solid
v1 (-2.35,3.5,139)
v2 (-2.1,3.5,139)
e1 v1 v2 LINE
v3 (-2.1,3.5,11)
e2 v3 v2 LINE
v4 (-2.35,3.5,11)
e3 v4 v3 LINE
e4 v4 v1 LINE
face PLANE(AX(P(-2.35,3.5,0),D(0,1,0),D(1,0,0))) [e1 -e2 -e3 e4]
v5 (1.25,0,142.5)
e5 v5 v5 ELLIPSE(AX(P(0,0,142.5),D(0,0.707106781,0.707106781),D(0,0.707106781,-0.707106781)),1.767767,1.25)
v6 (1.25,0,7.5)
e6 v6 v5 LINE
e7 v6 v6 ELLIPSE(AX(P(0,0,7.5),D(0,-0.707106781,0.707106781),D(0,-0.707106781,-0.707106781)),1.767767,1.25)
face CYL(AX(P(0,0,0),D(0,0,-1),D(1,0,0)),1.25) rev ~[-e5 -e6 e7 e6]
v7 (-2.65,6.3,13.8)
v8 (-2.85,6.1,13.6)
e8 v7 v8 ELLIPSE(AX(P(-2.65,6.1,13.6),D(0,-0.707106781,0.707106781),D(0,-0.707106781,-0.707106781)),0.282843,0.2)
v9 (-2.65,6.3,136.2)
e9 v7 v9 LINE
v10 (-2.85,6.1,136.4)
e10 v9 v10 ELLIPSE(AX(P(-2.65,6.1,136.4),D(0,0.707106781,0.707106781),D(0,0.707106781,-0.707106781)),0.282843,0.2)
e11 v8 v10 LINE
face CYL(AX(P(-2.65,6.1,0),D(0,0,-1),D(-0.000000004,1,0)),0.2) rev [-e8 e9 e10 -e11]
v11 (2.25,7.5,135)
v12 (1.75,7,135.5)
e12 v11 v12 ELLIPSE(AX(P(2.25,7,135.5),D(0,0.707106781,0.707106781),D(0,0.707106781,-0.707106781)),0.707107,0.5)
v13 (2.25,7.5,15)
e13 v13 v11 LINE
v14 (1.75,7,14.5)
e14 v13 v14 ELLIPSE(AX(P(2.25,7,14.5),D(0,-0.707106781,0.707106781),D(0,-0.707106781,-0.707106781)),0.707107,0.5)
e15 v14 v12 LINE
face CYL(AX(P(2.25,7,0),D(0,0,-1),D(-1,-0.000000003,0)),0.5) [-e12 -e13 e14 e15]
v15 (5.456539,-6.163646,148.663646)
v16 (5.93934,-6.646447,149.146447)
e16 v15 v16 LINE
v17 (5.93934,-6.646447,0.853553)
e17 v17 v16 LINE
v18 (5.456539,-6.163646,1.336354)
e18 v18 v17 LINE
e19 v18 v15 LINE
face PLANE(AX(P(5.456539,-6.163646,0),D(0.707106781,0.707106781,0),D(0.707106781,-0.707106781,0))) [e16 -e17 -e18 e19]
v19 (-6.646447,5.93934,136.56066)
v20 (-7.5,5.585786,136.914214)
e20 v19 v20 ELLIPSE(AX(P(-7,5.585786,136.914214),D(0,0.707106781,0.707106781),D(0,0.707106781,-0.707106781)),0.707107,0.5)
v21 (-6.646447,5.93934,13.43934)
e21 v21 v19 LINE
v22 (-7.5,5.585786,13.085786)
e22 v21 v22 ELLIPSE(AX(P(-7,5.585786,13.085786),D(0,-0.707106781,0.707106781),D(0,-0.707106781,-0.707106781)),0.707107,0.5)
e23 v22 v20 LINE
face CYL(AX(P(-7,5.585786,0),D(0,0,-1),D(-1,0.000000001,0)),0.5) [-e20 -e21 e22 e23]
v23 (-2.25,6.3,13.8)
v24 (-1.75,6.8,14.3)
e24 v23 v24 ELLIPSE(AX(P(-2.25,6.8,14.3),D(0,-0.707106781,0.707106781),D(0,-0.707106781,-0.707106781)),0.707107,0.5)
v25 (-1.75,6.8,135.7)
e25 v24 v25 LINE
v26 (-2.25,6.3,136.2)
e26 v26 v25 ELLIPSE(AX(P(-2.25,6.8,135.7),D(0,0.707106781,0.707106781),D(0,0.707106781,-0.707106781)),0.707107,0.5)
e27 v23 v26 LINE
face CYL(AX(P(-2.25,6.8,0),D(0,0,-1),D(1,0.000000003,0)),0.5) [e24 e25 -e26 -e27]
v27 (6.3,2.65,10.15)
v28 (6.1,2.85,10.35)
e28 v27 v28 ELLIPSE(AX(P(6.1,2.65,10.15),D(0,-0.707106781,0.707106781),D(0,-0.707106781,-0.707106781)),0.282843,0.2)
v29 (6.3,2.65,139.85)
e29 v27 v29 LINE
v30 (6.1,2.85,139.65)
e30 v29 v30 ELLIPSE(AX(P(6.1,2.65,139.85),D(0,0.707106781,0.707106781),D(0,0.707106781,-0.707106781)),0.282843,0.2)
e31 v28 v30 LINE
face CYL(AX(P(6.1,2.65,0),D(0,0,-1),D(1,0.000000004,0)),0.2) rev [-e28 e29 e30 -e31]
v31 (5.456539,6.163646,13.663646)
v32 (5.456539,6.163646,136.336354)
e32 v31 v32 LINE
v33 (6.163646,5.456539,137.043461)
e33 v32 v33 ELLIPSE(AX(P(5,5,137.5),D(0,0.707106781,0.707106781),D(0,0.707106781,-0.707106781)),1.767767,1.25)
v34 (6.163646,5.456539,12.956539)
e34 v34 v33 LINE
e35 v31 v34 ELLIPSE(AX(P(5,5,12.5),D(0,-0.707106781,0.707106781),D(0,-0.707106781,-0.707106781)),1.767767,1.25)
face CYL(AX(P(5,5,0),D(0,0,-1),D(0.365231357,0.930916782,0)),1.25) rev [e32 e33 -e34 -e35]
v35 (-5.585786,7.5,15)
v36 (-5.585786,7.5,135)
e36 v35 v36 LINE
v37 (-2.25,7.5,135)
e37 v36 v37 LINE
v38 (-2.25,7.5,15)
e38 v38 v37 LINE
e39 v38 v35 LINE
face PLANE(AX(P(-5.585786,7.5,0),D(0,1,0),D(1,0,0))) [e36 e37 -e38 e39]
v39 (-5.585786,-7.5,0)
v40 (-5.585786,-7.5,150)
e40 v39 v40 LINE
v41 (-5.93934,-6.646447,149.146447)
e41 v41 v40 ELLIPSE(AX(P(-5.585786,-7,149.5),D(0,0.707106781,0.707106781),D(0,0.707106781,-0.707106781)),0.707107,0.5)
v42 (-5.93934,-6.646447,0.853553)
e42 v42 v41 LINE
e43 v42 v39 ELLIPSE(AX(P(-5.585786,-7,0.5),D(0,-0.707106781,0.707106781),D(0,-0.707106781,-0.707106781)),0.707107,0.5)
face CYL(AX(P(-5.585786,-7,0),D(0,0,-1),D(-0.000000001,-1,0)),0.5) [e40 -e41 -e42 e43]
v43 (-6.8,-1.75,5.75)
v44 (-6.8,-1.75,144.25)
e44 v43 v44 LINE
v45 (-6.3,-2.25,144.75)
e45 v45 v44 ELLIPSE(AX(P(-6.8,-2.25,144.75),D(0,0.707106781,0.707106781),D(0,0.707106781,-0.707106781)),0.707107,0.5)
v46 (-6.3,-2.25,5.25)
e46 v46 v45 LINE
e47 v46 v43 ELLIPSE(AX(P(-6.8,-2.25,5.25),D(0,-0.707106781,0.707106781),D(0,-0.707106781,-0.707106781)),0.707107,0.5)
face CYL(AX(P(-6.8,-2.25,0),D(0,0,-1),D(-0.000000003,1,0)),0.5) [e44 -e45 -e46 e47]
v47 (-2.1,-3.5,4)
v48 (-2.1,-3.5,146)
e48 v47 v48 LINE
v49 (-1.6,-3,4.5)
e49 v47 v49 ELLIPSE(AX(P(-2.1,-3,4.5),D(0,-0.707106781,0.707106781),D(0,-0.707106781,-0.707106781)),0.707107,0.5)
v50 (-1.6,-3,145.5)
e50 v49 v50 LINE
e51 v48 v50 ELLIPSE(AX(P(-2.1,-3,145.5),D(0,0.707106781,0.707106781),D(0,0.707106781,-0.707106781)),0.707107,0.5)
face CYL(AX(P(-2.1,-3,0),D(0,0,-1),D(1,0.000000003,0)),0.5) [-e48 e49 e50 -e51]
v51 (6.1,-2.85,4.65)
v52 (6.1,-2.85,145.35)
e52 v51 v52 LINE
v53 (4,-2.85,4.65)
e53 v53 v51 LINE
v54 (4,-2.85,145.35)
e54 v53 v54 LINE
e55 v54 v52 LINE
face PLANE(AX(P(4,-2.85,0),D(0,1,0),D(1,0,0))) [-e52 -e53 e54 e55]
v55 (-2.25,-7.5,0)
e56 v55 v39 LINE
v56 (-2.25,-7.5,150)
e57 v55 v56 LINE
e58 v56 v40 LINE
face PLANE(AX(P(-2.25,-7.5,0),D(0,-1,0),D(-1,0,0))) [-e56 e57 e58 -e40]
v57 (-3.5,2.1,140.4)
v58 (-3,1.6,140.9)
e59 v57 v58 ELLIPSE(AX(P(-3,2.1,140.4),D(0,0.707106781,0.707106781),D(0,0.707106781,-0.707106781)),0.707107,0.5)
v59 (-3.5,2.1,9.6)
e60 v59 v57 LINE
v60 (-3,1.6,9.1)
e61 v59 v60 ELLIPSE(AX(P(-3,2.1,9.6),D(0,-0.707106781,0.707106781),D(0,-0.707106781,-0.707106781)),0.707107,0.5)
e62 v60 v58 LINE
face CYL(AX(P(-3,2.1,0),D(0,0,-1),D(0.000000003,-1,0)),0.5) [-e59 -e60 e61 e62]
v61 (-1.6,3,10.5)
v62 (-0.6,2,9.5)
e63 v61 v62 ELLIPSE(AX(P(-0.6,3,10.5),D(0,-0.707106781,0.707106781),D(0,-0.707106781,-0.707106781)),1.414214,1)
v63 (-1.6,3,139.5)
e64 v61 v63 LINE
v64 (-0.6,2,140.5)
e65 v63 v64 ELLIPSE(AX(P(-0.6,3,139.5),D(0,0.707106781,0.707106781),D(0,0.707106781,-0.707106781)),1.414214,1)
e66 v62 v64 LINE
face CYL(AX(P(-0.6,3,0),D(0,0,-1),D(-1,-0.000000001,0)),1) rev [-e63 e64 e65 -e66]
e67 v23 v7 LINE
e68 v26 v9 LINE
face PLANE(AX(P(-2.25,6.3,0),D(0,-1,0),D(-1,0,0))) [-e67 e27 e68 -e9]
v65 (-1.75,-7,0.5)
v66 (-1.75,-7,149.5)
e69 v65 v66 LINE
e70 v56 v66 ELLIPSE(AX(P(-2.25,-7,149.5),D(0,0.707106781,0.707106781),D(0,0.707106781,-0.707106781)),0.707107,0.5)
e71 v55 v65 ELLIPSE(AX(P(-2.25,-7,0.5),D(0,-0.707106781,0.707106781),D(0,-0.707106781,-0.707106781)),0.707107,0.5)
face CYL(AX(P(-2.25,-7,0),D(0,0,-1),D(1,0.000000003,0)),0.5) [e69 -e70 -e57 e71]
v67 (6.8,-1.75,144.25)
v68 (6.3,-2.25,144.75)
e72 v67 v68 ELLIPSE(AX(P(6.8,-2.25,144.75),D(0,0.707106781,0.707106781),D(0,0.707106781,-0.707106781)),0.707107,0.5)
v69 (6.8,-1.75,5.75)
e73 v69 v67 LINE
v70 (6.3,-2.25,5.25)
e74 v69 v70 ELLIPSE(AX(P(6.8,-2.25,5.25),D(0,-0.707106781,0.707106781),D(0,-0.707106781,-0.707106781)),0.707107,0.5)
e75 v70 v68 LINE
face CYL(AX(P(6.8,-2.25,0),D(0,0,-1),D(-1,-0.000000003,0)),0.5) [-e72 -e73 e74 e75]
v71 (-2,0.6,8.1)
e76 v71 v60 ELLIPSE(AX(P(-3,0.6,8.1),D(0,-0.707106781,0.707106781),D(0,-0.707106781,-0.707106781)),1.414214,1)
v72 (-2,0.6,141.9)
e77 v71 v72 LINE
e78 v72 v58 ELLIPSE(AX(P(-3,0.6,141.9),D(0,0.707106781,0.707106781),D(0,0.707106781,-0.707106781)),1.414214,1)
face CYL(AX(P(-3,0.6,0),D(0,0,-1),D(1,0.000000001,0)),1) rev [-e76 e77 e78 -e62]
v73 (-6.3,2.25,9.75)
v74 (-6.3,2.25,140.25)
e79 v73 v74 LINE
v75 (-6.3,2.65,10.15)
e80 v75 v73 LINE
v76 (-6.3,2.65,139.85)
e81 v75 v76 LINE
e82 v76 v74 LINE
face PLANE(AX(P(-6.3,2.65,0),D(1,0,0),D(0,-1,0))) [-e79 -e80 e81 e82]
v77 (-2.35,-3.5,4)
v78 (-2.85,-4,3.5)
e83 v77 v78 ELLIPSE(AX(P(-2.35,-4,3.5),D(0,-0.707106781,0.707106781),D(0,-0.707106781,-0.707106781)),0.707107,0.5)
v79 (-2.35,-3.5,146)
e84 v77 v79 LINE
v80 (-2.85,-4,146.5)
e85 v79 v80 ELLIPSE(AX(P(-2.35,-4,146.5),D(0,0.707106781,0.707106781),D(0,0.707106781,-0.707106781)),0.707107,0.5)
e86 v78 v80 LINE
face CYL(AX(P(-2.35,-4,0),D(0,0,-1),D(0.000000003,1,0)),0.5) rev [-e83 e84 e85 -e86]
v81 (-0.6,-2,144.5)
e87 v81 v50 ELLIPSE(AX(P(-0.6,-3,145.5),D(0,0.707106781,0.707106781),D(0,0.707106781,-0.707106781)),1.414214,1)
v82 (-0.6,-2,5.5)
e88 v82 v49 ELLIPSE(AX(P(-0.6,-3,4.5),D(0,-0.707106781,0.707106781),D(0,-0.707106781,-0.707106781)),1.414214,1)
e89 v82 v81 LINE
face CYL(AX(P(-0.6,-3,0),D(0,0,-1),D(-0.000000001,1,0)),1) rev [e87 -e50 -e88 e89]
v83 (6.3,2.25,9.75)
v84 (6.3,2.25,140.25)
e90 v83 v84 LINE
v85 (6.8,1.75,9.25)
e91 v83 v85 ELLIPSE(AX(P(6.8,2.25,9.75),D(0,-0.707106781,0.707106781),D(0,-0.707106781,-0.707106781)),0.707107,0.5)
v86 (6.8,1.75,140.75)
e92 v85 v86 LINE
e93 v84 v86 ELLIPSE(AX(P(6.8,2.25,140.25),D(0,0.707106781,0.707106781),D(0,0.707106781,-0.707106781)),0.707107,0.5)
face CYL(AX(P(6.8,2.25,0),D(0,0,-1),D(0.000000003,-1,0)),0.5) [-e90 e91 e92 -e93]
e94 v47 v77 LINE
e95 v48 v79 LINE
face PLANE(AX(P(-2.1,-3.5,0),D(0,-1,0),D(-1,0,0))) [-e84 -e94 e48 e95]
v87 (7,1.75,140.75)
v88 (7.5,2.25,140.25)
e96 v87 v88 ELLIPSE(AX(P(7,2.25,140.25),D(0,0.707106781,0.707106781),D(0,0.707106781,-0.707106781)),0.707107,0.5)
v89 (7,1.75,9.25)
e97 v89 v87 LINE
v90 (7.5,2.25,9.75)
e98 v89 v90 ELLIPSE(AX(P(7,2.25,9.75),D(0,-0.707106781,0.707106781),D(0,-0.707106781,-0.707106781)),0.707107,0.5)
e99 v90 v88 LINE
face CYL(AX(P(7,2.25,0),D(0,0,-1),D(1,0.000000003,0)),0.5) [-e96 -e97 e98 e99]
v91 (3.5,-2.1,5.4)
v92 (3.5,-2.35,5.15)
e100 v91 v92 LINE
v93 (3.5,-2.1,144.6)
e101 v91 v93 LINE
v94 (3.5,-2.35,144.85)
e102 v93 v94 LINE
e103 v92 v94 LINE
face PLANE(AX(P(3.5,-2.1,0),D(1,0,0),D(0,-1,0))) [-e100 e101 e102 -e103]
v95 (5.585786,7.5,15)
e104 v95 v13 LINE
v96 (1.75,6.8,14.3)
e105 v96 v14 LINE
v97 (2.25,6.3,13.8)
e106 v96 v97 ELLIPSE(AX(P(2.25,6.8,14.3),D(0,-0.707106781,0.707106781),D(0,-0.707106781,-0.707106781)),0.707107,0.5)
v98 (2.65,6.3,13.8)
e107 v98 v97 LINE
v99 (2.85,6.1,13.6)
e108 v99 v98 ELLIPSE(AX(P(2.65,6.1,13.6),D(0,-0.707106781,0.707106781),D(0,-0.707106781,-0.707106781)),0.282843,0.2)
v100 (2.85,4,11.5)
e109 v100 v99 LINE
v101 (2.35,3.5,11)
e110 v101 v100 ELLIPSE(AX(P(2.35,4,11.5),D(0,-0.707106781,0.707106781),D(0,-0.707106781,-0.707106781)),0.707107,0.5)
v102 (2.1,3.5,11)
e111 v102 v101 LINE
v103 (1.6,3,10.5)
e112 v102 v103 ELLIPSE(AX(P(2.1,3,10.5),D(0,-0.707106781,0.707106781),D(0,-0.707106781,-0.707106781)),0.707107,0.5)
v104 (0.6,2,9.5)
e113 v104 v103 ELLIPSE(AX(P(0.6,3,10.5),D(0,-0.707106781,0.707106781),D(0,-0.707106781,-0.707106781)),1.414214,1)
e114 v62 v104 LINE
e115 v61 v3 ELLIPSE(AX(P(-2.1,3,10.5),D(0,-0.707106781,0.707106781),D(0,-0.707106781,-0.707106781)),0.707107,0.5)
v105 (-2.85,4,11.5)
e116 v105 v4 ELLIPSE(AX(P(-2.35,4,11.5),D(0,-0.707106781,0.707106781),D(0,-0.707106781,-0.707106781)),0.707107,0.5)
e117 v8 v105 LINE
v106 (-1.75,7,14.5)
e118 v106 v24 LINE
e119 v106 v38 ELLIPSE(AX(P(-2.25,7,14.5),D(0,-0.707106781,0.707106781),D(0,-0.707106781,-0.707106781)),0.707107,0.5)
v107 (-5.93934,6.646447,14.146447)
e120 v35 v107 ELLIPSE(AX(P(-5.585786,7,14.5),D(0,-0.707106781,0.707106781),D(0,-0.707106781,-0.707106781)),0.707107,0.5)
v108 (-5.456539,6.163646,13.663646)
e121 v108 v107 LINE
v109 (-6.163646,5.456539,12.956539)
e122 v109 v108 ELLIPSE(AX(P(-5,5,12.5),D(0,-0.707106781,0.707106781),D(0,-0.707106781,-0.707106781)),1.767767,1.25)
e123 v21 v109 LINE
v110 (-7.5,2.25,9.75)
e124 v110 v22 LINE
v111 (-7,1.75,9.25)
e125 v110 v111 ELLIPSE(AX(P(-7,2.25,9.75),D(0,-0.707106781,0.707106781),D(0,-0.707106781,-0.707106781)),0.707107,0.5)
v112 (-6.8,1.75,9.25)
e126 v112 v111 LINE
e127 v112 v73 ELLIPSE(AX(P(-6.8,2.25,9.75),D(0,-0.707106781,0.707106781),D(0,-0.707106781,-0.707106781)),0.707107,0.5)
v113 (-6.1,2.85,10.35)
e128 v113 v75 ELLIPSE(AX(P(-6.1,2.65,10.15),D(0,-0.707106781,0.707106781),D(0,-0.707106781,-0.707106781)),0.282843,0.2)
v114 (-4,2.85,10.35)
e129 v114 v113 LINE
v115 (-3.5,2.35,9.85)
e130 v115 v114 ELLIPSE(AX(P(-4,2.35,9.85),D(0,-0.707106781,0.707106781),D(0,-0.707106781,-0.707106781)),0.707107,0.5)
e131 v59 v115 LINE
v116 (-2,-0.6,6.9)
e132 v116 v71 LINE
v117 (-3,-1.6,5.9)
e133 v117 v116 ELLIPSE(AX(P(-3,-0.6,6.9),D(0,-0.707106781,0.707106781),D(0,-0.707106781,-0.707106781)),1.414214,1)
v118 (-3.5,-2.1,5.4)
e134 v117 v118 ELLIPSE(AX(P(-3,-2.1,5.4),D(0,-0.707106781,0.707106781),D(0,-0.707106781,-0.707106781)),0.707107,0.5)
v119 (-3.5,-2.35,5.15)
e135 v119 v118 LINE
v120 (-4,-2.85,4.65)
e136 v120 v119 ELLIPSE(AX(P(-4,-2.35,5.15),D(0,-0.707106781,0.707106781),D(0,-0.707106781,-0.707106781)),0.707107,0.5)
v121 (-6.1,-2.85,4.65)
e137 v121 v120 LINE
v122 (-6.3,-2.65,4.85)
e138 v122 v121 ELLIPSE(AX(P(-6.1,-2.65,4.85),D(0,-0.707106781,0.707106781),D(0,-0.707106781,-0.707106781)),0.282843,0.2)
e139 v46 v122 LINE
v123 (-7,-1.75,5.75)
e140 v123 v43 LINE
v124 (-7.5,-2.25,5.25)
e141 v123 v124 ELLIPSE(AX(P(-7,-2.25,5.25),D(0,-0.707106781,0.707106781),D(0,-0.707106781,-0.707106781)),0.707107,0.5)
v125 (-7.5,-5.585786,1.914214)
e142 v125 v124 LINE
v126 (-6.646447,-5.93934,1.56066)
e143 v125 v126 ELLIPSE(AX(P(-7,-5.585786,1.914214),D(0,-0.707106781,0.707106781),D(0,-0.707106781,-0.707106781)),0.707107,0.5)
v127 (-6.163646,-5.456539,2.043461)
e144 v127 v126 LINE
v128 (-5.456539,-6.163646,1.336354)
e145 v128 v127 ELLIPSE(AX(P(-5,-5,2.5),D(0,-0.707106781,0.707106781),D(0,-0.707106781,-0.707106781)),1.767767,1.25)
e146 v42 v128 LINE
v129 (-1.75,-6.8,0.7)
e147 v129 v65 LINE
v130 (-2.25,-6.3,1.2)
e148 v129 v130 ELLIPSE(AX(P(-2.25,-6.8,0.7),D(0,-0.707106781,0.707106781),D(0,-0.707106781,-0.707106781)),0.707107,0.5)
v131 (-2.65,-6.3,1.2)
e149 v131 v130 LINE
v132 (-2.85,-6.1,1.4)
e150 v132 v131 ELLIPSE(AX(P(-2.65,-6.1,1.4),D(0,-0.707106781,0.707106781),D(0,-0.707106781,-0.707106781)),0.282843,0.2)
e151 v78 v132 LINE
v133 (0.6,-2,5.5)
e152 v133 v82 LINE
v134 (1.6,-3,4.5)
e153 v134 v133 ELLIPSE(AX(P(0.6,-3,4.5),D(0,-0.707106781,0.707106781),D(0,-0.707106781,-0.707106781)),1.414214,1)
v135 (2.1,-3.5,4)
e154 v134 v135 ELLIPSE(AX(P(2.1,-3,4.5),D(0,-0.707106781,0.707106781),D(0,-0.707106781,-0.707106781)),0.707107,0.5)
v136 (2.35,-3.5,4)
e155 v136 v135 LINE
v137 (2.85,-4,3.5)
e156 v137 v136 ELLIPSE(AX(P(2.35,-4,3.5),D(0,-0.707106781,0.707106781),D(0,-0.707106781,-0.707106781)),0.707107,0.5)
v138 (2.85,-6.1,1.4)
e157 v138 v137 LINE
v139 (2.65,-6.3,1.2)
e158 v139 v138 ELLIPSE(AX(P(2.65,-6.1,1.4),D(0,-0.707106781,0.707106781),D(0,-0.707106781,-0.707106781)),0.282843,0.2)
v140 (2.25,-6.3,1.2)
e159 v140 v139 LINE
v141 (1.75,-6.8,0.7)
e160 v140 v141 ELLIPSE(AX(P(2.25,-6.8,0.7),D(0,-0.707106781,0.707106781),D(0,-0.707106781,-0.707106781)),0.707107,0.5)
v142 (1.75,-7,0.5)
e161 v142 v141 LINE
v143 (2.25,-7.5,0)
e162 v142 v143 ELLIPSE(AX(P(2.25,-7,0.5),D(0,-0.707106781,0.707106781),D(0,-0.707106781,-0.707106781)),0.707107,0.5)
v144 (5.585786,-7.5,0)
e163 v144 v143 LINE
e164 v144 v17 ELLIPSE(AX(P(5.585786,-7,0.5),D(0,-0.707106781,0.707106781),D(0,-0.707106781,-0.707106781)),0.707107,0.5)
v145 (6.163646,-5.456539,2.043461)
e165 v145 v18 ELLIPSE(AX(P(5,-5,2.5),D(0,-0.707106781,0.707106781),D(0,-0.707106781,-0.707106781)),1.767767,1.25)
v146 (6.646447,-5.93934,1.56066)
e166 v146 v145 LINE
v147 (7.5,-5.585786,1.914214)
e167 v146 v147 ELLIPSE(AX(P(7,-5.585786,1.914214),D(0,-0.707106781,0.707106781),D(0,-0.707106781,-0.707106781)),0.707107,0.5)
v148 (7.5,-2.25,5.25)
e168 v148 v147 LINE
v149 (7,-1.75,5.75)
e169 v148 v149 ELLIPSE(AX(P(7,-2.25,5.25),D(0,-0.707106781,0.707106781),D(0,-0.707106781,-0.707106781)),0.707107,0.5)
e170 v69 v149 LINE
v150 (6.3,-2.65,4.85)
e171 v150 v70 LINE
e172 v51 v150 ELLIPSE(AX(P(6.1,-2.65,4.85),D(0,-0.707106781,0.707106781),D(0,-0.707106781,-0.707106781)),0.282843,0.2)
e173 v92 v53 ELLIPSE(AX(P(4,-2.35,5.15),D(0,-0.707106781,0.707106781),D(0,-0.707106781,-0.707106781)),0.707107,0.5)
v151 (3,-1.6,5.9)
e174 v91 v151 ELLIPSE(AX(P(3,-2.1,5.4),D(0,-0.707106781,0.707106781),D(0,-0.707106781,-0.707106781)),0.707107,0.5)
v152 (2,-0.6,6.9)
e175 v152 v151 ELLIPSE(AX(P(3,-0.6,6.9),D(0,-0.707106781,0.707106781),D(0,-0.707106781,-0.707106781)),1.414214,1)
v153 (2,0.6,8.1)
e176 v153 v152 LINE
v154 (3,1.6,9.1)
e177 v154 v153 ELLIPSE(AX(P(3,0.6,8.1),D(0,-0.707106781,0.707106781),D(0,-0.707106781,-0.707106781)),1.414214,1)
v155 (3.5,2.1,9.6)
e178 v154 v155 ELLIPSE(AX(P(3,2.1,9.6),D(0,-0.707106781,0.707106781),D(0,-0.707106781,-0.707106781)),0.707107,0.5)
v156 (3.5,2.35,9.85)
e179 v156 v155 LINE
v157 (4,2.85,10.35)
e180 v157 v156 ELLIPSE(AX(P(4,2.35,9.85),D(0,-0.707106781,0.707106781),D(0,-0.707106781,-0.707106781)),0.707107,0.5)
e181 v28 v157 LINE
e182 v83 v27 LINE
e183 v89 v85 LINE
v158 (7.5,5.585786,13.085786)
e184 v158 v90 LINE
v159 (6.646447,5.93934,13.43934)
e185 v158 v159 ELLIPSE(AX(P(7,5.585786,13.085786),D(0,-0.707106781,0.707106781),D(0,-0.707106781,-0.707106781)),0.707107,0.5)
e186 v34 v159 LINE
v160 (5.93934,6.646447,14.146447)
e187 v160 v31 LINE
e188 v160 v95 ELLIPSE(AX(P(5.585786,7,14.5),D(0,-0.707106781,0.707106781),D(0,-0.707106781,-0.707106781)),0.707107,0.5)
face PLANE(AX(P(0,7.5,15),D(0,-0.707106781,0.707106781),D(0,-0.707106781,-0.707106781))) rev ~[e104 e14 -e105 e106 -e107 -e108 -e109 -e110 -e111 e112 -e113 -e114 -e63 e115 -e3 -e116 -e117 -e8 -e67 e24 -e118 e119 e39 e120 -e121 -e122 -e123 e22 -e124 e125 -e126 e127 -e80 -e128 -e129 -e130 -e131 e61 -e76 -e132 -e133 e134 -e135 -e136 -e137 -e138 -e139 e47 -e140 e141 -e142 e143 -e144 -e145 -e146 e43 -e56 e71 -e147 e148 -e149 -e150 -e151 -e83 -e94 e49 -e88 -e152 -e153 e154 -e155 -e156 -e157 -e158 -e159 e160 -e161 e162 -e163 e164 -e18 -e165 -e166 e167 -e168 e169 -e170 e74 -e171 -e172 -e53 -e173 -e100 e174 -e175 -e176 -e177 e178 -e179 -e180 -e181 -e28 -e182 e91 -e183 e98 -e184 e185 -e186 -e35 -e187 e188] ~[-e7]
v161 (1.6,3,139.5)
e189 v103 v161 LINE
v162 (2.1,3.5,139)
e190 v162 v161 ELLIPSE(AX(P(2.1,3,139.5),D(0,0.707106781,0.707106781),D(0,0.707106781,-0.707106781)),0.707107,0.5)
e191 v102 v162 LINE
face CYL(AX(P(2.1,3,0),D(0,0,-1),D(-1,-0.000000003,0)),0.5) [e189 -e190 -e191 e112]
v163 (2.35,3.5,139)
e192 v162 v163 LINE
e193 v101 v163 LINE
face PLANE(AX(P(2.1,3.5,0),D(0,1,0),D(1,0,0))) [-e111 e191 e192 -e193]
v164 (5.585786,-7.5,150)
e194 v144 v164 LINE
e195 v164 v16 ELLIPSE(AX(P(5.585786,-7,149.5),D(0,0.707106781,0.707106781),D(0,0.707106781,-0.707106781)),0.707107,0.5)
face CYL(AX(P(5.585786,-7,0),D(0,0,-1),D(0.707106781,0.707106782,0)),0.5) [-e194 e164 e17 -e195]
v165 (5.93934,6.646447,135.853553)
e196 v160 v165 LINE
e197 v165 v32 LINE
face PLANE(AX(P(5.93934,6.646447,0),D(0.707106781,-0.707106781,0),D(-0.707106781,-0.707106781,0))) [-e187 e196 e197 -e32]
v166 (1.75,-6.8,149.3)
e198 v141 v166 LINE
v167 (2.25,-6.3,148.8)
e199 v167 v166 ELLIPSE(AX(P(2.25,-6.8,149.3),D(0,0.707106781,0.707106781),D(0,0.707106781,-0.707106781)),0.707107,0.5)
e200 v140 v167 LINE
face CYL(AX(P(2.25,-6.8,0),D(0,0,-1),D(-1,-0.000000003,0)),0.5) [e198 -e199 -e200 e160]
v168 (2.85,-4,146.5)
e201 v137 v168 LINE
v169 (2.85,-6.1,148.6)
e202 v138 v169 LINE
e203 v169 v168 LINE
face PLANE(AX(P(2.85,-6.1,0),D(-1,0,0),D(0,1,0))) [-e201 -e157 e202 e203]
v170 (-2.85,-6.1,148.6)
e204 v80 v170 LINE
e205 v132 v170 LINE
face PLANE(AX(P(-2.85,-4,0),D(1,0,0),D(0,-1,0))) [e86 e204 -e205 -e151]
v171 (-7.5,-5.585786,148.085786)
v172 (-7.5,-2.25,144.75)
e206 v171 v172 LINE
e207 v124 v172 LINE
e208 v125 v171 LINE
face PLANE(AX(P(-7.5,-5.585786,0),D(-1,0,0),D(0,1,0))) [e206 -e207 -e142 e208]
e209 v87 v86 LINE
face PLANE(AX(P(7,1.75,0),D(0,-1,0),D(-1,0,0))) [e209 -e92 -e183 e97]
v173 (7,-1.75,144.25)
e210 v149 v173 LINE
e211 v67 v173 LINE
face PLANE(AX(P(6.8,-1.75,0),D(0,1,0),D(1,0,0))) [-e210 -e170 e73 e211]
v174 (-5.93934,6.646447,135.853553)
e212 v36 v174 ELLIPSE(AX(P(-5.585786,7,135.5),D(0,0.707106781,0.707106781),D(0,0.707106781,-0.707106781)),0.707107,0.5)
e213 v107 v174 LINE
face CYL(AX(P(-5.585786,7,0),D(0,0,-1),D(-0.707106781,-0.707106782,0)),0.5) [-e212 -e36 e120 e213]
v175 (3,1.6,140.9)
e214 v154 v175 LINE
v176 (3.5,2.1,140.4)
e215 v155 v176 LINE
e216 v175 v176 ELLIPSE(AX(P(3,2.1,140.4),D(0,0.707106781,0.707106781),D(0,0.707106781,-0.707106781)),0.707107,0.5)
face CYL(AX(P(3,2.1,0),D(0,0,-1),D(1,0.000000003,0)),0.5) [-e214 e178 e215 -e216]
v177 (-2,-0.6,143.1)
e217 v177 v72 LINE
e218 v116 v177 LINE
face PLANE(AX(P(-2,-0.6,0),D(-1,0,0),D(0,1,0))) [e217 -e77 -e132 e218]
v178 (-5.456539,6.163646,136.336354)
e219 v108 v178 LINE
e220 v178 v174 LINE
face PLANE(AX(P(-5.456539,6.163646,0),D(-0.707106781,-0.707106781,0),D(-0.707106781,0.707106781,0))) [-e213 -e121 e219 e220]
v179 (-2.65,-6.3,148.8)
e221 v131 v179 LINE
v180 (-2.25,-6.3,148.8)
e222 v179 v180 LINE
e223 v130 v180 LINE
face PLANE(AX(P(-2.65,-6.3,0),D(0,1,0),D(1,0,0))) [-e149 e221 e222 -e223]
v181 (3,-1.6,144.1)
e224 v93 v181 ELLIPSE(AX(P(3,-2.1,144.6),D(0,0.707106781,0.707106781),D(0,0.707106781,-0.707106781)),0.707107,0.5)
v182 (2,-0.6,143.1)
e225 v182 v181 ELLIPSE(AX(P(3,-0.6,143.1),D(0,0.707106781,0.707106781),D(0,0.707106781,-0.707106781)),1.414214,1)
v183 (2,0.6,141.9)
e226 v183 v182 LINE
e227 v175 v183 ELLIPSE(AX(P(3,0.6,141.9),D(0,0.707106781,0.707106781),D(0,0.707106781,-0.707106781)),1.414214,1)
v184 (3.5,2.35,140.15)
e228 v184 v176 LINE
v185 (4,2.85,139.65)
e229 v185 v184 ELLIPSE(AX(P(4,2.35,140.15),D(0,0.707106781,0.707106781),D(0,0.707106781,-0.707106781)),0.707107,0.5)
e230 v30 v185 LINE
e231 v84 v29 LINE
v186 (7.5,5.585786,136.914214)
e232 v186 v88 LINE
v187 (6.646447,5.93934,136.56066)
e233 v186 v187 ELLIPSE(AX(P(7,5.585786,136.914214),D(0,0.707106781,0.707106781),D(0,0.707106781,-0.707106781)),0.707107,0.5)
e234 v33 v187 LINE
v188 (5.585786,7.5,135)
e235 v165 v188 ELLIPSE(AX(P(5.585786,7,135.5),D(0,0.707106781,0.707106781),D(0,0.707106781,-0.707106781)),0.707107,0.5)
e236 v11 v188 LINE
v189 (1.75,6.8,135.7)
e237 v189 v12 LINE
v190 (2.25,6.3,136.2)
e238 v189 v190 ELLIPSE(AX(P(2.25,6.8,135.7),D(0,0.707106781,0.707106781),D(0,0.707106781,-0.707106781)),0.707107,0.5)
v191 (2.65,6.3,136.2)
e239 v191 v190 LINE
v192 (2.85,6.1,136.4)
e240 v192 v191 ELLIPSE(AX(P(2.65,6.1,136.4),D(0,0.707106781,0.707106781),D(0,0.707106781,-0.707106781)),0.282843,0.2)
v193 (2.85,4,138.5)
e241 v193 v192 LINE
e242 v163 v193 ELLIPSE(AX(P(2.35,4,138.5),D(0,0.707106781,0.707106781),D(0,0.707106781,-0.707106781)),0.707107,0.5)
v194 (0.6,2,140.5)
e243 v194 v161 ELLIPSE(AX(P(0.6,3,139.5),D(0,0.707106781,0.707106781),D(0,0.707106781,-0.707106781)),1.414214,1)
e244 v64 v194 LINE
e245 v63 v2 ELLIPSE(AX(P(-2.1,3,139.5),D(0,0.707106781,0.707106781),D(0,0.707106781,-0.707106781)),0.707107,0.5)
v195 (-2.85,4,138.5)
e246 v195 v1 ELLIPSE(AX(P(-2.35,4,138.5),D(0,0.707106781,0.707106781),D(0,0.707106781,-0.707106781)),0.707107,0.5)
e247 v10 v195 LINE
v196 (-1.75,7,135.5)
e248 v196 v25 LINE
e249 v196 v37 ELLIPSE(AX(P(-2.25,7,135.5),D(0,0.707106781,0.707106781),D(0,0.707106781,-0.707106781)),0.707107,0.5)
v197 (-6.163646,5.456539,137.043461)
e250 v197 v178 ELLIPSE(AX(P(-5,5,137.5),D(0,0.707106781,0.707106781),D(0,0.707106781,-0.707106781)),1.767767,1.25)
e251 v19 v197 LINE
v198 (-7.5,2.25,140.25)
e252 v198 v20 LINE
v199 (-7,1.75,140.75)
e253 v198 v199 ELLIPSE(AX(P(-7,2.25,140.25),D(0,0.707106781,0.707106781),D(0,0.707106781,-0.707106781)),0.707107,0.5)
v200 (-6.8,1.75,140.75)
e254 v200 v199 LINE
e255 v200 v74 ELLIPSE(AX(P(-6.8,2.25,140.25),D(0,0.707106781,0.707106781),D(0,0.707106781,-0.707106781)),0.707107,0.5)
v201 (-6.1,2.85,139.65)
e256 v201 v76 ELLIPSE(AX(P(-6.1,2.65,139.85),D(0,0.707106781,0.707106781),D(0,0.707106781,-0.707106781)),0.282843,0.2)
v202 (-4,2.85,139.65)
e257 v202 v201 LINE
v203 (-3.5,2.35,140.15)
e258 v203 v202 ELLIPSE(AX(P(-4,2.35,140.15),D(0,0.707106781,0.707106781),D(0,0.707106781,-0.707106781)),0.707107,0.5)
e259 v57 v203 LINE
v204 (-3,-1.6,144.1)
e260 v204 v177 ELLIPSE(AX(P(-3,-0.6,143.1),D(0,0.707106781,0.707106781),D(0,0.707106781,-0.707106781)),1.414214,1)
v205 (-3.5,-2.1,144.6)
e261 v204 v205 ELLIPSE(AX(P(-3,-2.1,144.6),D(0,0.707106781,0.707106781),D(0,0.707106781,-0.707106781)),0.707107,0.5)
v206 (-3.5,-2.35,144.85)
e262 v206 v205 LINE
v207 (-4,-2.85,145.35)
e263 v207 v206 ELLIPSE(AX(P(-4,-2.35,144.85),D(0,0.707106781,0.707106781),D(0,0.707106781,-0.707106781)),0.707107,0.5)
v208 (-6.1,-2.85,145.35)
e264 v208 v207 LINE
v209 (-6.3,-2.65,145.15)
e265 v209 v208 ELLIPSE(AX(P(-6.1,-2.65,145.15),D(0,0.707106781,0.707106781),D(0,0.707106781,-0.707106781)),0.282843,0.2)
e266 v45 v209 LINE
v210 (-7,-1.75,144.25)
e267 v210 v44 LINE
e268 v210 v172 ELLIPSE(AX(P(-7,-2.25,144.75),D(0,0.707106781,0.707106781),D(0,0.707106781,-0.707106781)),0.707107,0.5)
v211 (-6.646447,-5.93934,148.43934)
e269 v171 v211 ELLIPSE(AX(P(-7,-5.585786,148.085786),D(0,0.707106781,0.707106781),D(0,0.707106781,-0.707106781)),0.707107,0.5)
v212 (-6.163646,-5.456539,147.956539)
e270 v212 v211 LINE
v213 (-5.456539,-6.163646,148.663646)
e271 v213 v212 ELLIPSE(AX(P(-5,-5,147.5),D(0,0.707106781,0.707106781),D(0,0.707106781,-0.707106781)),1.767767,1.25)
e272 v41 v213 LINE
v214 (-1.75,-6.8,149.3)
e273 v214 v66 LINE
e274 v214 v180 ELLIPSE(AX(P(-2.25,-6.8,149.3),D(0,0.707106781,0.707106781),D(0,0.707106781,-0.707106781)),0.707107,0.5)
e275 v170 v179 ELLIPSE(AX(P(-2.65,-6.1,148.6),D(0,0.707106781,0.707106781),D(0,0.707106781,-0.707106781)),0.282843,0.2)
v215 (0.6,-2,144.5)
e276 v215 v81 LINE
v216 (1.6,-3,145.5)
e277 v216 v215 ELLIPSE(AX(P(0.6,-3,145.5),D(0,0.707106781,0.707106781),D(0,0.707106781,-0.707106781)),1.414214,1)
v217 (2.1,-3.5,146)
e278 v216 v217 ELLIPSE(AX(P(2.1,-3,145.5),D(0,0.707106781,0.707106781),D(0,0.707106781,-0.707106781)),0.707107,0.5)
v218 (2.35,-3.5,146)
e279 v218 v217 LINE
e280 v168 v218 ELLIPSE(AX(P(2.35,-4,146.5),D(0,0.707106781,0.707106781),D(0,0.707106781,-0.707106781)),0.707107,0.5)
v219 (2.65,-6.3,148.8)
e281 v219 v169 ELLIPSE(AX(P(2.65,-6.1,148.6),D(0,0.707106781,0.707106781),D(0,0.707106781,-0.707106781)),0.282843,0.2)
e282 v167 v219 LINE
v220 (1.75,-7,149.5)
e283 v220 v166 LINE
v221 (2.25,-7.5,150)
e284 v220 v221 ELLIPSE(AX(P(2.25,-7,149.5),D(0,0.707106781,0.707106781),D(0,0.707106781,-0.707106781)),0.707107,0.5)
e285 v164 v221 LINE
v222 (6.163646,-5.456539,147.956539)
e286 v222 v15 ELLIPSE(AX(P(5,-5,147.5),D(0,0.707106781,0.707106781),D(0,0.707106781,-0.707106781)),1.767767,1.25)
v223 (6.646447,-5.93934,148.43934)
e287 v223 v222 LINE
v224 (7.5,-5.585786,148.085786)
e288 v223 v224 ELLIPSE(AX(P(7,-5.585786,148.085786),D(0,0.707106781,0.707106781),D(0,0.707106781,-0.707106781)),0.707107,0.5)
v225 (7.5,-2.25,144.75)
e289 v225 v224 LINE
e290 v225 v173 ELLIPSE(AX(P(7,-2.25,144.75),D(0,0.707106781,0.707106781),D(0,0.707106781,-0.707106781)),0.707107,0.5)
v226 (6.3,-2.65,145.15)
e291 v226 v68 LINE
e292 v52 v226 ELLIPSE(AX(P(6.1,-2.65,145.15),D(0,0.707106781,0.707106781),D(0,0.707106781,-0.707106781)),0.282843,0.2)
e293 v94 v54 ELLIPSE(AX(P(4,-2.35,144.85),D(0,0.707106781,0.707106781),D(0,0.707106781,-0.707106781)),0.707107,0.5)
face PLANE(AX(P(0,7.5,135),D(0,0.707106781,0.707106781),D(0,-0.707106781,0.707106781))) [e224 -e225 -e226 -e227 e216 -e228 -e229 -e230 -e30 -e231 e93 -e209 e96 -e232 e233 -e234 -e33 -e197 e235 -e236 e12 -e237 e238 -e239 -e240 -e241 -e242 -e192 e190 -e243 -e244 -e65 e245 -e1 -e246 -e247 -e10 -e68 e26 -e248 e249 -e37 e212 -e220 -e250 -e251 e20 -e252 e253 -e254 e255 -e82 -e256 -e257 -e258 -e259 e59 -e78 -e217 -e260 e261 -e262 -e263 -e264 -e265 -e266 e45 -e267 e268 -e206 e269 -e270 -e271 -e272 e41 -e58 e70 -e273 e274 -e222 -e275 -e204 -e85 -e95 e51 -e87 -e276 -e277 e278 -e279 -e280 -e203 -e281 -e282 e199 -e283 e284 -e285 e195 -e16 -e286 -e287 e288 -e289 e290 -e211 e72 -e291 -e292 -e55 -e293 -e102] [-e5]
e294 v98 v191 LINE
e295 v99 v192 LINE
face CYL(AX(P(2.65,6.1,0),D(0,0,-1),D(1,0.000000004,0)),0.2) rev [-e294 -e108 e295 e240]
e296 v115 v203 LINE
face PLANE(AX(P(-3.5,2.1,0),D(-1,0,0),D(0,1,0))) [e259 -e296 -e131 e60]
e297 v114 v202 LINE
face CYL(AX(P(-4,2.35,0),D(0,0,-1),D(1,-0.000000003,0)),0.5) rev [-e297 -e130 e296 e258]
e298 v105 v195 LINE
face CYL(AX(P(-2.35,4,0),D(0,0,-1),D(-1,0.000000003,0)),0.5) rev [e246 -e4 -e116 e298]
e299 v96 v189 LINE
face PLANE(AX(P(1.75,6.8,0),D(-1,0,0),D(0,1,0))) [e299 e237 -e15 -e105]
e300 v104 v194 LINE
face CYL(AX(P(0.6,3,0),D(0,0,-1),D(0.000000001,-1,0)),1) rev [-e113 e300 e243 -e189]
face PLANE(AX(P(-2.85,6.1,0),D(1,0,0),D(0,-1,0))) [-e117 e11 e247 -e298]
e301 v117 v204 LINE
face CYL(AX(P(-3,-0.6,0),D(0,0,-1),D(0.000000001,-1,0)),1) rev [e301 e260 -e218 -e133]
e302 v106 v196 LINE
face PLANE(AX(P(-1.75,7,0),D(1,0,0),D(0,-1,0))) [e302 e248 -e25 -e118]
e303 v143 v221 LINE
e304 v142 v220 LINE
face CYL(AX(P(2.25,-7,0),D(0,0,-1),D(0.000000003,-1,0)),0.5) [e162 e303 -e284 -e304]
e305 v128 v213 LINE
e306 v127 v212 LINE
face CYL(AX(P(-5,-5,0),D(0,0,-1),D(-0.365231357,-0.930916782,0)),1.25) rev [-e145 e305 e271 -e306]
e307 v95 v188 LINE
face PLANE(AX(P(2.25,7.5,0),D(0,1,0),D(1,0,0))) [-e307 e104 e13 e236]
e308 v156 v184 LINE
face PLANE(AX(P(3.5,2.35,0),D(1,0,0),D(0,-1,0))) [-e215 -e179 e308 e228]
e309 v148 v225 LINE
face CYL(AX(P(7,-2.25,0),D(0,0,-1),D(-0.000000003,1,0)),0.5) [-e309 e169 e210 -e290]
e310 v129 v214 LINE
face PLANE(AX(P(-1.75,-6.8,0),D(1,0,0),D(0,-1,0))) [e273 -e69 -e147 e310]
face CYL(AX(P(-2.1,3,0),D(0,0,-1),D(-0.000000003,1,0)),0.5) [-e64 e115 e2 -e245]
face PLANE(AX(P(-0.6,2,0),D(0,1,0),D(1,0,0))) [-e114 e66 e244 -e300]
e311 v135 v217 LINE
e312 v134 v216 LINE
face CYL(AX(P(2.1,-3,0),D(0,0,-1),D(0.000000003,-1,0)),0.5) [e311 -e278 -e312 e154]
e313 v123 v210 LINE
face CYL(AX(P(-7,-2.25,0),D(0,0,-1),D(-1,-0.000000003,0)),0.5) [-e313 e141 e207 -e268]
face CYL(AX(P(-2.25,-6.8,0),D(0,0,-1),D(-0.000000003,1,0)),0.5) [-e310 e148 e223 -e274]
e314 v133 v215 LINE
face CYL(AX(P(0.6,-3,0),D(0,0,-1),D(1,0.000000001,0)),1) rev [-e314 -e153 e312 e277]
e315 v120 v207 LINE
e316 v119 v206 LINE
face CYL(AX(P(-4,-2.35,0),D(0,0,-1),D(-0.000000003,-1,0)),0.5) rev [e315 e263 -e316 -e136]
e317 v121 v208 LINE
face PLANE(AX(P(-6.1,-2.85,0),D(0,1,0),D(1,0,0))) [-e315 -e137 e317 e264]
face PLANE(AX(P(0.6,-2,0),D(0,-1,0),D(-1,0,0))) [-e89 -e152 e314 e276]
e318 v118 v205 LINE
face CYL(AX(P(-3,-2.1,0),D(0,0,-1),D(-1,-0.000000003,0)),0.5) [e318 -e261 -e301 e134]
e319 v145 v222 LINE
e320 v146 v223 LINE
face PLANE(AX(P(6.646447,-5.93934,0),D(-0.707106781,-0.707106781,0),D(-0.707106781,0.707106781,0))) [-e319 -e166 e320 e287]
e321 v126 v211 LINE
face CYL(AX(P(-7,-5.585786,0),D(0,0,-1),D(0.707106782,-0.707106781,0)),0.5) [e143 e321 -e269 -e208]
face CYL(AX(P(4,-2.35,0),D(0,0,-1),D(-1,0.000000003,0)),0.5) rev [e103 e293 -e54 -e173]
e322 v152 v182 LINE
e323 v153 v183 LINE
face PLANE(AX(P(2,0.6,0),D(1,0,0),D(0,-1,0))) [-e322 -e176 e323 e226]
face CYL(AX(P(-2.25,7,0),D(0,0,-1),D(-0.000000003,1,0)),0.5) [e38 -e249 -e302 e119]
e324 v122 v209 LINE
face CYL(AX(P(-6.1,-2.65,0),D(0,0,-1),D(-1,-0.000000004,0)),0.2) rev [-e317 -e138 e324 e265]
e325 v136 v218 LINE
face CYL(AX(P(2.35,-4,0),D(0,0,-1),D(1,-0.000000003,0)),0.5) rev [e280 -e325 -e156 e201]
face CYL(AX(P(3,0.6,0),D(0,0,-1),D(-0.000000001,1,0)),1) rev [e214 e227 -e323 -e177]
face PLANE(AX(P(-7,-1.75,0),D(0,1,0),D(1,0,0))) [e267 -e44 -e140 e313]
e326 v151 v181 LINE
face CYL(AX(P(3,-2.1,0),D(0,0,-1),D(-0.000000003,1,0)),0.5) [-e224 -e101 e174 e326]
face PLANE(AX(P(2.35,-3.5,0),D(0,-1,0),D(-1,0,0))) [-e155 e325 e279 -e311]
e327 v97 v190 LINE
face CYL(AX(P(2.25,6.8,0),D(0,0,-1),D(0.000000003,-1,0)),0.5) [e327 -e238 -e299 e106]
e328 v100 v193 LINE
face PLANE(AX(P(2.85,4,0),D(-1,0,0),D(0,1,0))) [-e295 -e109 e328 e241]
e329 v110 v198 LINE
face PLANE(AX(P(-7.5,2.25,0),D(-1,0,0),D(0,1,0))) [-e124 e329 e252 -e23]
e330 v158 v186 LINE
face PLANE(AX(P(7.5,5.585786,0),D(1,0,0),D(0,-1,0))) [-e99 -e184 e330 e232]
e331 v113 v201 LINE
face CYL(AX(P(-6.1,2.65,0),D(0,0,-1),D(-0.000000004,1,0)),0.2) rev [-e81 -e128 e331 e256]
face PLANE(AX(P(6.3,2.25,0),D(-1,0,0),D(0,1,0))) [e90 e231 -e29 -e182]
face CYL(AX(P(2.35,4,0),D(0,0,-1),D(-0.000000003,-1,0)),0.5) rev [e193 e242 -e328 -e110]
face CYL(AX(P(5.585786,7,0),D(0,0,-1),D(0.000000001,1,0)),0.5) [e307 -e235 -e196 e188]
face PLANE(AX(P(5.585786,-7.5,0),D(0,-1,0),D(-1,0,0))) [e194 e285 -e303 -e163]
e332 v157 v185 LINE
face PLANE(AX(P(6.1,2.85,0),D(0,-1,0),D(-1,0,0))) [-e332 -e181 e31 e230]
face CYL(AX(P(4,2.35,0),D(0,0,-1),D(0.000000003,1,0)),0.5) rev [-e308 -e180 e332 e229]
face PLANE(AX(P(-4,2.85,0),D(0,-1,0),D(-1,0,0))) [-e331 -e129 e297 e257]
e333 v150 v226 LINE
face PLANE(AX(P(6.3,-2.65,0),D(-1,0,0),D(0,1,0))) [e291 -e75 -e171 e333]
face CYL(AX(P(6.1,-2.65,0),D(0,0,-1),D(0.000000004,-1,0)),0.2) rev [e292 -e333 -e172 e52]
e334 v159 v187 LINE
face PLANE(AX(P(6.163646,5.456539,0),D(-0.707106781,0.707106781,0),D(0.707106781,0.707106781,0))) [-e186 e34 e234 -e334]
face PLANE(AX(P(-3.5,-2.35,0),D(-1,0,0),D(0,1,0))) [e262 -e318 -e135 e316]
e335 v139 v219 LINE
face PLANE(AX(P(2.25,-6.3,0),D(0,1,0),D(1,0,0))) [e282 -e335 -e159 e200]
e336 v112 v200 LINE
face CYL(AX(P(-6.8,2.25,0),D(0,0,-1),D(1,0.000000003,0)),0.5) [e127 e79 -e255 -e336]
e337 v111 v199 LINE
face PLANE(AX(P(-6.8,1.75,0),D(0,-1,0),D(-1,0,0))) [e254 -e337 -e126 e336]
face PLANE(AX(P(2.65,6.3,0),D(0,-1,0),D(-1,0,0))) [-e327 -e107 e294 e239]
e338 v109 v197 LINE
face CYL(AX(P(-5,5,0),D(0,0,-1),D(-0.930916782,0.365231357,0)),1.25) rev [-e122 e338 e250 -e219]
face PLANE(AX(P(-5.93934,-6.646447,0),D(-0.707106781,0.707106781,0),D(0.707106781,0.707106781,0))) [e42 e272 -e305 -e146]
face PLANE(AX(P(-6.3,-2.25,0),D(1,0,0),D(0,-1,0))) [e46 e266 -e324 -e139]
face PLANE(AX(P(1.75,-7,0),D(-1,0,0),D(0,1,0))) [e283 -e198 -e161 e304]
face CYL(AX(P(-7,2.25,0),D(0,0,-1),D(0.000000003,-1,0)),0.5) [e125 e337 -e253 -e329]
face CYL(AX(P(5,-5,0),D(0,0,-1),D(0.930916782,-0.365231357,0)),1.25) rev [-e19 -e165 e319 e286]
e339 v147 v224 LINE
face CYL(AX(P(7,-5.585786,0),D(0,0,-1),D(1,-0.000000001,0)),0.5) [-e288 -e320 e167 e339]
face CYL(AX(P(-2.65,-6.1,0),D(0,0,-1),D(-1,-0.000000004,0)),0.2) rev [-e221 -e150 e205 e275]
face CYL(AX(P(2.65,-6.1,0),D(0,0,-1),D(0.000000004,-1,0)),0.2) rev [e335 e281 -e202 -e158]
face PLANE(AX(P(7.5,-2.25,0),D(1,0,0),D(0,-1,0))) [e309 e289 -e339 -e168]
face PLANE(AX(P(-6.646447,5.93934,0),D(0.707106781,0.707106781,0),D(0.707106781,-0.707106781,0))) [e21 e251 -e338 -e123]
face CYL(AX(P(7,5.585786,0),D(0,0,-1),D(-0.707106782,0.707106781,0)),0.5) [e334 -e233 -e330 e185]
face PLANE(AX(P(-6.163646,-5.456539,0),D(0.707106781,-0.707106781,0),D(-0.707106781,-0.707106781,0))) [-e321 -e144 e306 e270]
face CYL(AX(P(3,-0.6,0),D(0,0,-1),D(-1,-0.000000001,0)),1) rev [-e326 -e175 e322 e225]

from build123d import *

# Parameters (mm, degrees)
SKETCH1_R           = 1.25
BOSS_EXTRUDE1_DEPTH = 150
CUT_EXTRUDE1_DEPTH  = 8
CUT_EXTRUDE2_DEPTH  = 8


with BuildPart() as part:
    # Sketch1 → Boss-Extrude1 (new body)
    with BuildSketch(Plane(origin=(0, 0, 0), x_dir=(-1, 0, 0), z_dir=(0, 0, -1))):
        with BuildLine():
            Line((6.646446609, 5.939339828), (6.163645978, 5.456539197))
            ThreePointArc((6.163645978, 5.456539197), (4.116116524, 4.116116524), (5.456539197, 6.163645978))
            Line((5.456539197, 6.163645978), (5.939339828, 6.646446609))
            ThreePointArc((5.939339828, 6.646446609), (6.047726204, 7.191341716), (5.585786438, 7.5))
            Line((5.585786438, 7.5), (2.25, 7.5))
            ThreePointArc((2.25, 7.5), (1.896446609, 7.353553391), (1.75, 7))
            Line((1.75, 7), (1.75, 6.8))
            ThreePointArc((1.75, 6.8), (1.896446609, 6.446446609), (2.25, 6.3))
            Line((2.25, 6.3), (2.65, 6.3))
            ThreePointArc((2.65, 6.3), (2.791421356, 6.241421356), (2.85, 6.1))
            Line((2.85, 6.1), (2.85, 4))
            ThreePointArc((2.85, 4), (2.703553391, 3.646446609), (2.35, 3.5))
            Line((2.35, 3.5), (2.1, 3.5))
            ThreePointArc((2.1, 3.5), (1.746446609, 3.353553391), (1.6, 3))
            ThreePointArc((1.6, 3), (1.307106781, 2.292893219), (0.6, 2))
            Line((0.6, 2), (-0.6, 2))
            ThreePointArc((-0.6, 2), (-1.307106781, 2.292893219), (-1.6, 3))
            ThreePointArc((-1.6, 3), (-1.746446609, 3.353553391), (-2.1, 3.5))
            Line((-2.1, 3.5), (-2.35, 3.5))
            ThreePointArc((-2.35, 3.5), (-2.703553391, 3.646446609), (-2.85, 4))
            Line((-2.85, 4), (-2.85, 6.1))
            ThreePointArc((-2.85, 6.1), (-2.791421356, 6.241421356), (-2.65, 6.3))
            Line((-2.65, 6.3), (-2.25, 6.3))
            ThreePointArc((-2.25, 6.3), (-1.896446609, 6.446446609), (-1.75, 6.8))
            Line((-1.75, 6.8), (-1.75, 7))
            ThreePointArc((-1.75, 7), (-1.896446609, 7.353553391), (-2.25, 7.5))
            Line((-2.25, 7.5), (-5.585786438, 7.5))
            ThreePointArc((-5.585786438, 7.5), (-6.047726204, 7.191341716), (-5.939339828, 6.646446609))
            Line((-5.939339828, 6.646446609), (-5.456539197, 6.163645978))
            ThreePointArc((-5.456539197, 6.163645978), (-4.116116524, 4.116116524), (-6.163645978, 5.456539197))
            Line((-6.163645978, 5.456539197), (-6.646446609, 5.939339828))
            ThreePointArc((-6.646446609, 5.939339828), (-7.191341716, 6.047726204), (-7.5, 5.585786438))
            Line((-7.5, 5.585786438), (-7.5, 2.25))
            ThreePointArc((-7.5, 2.25), (-7.353553391, 1.896446609), (-7, 1.75))
            Line((-7, 1.75), (-6.8, 1.75))
            ThreePointArc((-6.8, 1.75), (-6.446446609, 1.896446609), (-6.3, 2.25))
            Line((-6.3, 2.25), (-6.3, 2.65))
            ThreePointArc((-6.3, 2.65), (-6.241421356, 2.791421356), (-6.1, 2.85))
            Line((-6.1, 2.85), (-4, 2.85))
            ThreePointArc((-4, 2.85), (-3.646446609, 2.703553391), (-3.5, 2.35))
            Line((-3.5, 2.35), (-3.5, 2.1))
            ThreePointArc((-3.5, 2.1), (-3.353553391, 1.746446609), (-3, 1.6))
            ThreePointArc((-3, 1.6), (-2.292893219, 1.307106781), (-2, 0.6))
            Line((-2, 0.6), (-2, -0.6))
            ThreePointArc((-2, -0.6), (-2.292893219, -1.307106781), (-3, -1.6))
            ThreePointArc((-3, -1.6), (-3.353553391, -1.746446609), (-3.5, -2.1))
            Line((-3.5, -2.1), (-3.5, -2.35))
            ThreePointArc((-3.5, -2.35), (-3.646446609, -2.703553391), (-4, -2.85))
            Line((-4, -2.85), (-6.1, -2.85))
            ThreePointArc((-6.1, -2.85), (-6.241421356, -2.791421356), (-6.3, -2.65))
            Line((-6.3, -2.65), (-6.3, -2.25))
            ThreePointArc((-6.3, -2.25), (-6.446446609, -1.896446609), (-6.8, -1.75))
            Line((-6.8, -1.75), (-7, -1.75))
            ThreePointArc((-7, -1.75), (-7.353553391, -1.896446609), (-7.5, -2.25))
            Line((-7.5, -2.25), (-7.5, -5.585786438))
            ThreePointArc((-7.5, -5.585786438), (-7.191341716, -6.047726204), (-6.646446609, -5.939339828))
            Line((-6.646446609, -5.939339828), (-6.163645978, -5.456539197))
            ThreePointArc((-6.163645978, -5.456539197), (-4.116116524, -4.116116524), (-5.456539197, -6.163645978))
            Line((-5.456539197, -6.163645978), (-5.939339828, -6.646446609))
            ThreePointArc((-5.939339828, -6.646446609), (-6.047726204, -7.191341716), (-5.585786438, -7.5))
            Line((-5.585786438, -7.5), (-2.25, -7.5))
            ThreePointArc((-2.25, -7.5), (-1.896446609, -7.353553391), (-1.75, -7))
            Line((-1.75, -7), (-1.75, -6.8))
            ThreePointArc((-1.75, -6.8), (-1.896446609, -6.446446609), (-2.25, -6.3))
            Line((-2.25, -6.3), (-2.65, -6.3))
            ThreePointArc((-2.65, -6.3), (-2.791421356, -6.241421356), (-2.85, -6.1))
            Line((-2.85, -6.1), (-2.85, -4))
            ThreePointArc((-2.85, -4), (-2.703553391, -3.646446609), (-2.35, -3.5))
            Line((-2.35, -3.5), (-2.1, -3.5))
            ThreePointArc((-2.1, -3.5), (-1.746446609, -3.353553391), (-1.6, -3))
            ThreePointArc((-1.6, -3), (-1.307106781, -2.292893219), (-0.6, -2))
            Line((-0.6, -2), (0.6, -2))
            ThreePointArc((0.6, -2), (1.307106781, -2.292893219), (1.6, -3))
            ThreePointArc((1.6, -3), (1.746446609, -3.353553391), (2.1, -3.5))
            Line((2.1, -3.5), (2.35, -3.5))
            ThreePointArc((2.35, -3.5), (2.703553391, -3.646446609), (2.85, -4))
            Line((2.85, -4), (2.85, -6.1))
            ThreePointArc((2.85, -6.1), (2.791421356, -6.241421356), (2.65, -6.3))
            Line((2.65, -6.3), (2.25, -6.3))
            ThreePointArc((2.25, -6.3), (1.896446609, -6.446446609), (1.75, -6.8))
            Line((1.75, -6.8), (1.75, -7))
            ThreePointArc((1.75, -7), (1.896446609, -7.353553391), (2.25, -7.5))
            Line((2.25, -7.5), (5.585786438, -7.5))
            ThreePointArc((5.585786438, -7.5), (6.047726204, -7.191341716), (5.939339828, -6.646446609))
            Line((5.939339828, -6.646446609), (5.456539197, -6.163645978))
            ThreePointArc((5.456539197, -6.163645978), (4.116116524, -4.116116524), (6.163645978, -5.456539197))
            Line((6.163645978, -5.456539197), (6.646446609, -5.939339828))
            ThreePointArc((6.646446609, -5.939339828), (7.191341716, -6.047726204), (7.5, -5.585786438))
            Line((7.5, -5.585786438), (7.5, -2.25))
            ThreePointArc((7.5, -2.25), (7.353553391, -1.896446609), (7, -1.75))
            Line((7, -1.75), (6.8, -1.75))
            ThreePointArc((6.8, -1.75), (6.446446609, -1.896446609), (6.3, -2.25))
            Line((6.3, -2.25), (6.3, -2.65))
            ThreePointArc((6.3, -2.65), (6.241421356, -2.791421356), (6.1, -2.85))
            Line((6.1, -2.85), (4, -2.85))
            ThreePointArc((4, -2.85), (3.646446609, -2.703553391), (3.5, -2.35))
            Line((3.5, -2.35), (3.5, -2.1))
            ThreePointArc((3.5, -2.1), (3.353553391, -1.746446609), (3, -1.6))
            ThreePointArc((3, -1.6), (2.292893219, -1.307106781), (2, -0.6))
            Line((2, -0.6), (2, 0.6))
            ThreePointArc((2, 0.6), (2.292893219, 1.307106781), (3, 1.6))
            ThreePointArc((3, 1.6), (3.353553391, 1.746446609), (3.5, 2.1))
            Line((3.5, 2.1), (3.5, 2.35))
            ThreePointArc((3.5, 2.35), (3.646446609, 2.703553391), (4, 2.85))
            Line((4, 2.85), (6.1, 2.85))
            ThreePointArc((6.1, 2.85), (6.241421356, 2.791421356), (6.3, 2.65))
            Line((6.3, 2.65), (6.3, 2.25))
            ThreePointArc((6.3, 2.25), (6.446446609, 1.896446609), (6.8, 1.75))
            Line((6.8, 1.75), (7, 1.75))
            ThreePointArc((7, 1.75), (7.353553391, 1.896446609), (7.5, 2.25))
            Line((7.5, 2.25), (7.5, 5.585786438))
            ThreePointArc((7.5, 5.585786438), (7.191341716, 6.047726204), (6.646446609, 5.939339828))
        make_face()
        with Locations(Location((0, 0, 0), (0, 0, 180))):
            Circle(SKETCH1_R, mode=Mode.SUBTRACT)
    extrude(amount=-BOSS_EXTRUDE1_DEPTH)

    # Sketch9 → Cut-Extrude1 (cut, symmetric)
    with BuildSketch(Plane(origin=(0, 0, 0), x_dir=(0, 0, -1), z_dir=(1, 0, 0))):
        Polygon((0, -7.5), (0, 7.5), (-15, 7.5), align=None)
    extrude(amount=CUT_EXTRUDE1_DEPTH, both=True, mode=Mode.SUBTRACT)

    # Sketch10 → Cut-Extrude2 (cut, symmetric)
    with BuildSketch(Plane(origin=(0, 0, 0), x_dir=(0, 0, -1), z_dir=(1, 0, 0))):
        Polygon((-150, -7.5), (-150, 7.5), (-135, 7.5), align=None)
    extrude(amount=CUT_EXTRUDE2_DEPTH, both=True, mode=Mode.SUBTRACT)


solid = part.part
